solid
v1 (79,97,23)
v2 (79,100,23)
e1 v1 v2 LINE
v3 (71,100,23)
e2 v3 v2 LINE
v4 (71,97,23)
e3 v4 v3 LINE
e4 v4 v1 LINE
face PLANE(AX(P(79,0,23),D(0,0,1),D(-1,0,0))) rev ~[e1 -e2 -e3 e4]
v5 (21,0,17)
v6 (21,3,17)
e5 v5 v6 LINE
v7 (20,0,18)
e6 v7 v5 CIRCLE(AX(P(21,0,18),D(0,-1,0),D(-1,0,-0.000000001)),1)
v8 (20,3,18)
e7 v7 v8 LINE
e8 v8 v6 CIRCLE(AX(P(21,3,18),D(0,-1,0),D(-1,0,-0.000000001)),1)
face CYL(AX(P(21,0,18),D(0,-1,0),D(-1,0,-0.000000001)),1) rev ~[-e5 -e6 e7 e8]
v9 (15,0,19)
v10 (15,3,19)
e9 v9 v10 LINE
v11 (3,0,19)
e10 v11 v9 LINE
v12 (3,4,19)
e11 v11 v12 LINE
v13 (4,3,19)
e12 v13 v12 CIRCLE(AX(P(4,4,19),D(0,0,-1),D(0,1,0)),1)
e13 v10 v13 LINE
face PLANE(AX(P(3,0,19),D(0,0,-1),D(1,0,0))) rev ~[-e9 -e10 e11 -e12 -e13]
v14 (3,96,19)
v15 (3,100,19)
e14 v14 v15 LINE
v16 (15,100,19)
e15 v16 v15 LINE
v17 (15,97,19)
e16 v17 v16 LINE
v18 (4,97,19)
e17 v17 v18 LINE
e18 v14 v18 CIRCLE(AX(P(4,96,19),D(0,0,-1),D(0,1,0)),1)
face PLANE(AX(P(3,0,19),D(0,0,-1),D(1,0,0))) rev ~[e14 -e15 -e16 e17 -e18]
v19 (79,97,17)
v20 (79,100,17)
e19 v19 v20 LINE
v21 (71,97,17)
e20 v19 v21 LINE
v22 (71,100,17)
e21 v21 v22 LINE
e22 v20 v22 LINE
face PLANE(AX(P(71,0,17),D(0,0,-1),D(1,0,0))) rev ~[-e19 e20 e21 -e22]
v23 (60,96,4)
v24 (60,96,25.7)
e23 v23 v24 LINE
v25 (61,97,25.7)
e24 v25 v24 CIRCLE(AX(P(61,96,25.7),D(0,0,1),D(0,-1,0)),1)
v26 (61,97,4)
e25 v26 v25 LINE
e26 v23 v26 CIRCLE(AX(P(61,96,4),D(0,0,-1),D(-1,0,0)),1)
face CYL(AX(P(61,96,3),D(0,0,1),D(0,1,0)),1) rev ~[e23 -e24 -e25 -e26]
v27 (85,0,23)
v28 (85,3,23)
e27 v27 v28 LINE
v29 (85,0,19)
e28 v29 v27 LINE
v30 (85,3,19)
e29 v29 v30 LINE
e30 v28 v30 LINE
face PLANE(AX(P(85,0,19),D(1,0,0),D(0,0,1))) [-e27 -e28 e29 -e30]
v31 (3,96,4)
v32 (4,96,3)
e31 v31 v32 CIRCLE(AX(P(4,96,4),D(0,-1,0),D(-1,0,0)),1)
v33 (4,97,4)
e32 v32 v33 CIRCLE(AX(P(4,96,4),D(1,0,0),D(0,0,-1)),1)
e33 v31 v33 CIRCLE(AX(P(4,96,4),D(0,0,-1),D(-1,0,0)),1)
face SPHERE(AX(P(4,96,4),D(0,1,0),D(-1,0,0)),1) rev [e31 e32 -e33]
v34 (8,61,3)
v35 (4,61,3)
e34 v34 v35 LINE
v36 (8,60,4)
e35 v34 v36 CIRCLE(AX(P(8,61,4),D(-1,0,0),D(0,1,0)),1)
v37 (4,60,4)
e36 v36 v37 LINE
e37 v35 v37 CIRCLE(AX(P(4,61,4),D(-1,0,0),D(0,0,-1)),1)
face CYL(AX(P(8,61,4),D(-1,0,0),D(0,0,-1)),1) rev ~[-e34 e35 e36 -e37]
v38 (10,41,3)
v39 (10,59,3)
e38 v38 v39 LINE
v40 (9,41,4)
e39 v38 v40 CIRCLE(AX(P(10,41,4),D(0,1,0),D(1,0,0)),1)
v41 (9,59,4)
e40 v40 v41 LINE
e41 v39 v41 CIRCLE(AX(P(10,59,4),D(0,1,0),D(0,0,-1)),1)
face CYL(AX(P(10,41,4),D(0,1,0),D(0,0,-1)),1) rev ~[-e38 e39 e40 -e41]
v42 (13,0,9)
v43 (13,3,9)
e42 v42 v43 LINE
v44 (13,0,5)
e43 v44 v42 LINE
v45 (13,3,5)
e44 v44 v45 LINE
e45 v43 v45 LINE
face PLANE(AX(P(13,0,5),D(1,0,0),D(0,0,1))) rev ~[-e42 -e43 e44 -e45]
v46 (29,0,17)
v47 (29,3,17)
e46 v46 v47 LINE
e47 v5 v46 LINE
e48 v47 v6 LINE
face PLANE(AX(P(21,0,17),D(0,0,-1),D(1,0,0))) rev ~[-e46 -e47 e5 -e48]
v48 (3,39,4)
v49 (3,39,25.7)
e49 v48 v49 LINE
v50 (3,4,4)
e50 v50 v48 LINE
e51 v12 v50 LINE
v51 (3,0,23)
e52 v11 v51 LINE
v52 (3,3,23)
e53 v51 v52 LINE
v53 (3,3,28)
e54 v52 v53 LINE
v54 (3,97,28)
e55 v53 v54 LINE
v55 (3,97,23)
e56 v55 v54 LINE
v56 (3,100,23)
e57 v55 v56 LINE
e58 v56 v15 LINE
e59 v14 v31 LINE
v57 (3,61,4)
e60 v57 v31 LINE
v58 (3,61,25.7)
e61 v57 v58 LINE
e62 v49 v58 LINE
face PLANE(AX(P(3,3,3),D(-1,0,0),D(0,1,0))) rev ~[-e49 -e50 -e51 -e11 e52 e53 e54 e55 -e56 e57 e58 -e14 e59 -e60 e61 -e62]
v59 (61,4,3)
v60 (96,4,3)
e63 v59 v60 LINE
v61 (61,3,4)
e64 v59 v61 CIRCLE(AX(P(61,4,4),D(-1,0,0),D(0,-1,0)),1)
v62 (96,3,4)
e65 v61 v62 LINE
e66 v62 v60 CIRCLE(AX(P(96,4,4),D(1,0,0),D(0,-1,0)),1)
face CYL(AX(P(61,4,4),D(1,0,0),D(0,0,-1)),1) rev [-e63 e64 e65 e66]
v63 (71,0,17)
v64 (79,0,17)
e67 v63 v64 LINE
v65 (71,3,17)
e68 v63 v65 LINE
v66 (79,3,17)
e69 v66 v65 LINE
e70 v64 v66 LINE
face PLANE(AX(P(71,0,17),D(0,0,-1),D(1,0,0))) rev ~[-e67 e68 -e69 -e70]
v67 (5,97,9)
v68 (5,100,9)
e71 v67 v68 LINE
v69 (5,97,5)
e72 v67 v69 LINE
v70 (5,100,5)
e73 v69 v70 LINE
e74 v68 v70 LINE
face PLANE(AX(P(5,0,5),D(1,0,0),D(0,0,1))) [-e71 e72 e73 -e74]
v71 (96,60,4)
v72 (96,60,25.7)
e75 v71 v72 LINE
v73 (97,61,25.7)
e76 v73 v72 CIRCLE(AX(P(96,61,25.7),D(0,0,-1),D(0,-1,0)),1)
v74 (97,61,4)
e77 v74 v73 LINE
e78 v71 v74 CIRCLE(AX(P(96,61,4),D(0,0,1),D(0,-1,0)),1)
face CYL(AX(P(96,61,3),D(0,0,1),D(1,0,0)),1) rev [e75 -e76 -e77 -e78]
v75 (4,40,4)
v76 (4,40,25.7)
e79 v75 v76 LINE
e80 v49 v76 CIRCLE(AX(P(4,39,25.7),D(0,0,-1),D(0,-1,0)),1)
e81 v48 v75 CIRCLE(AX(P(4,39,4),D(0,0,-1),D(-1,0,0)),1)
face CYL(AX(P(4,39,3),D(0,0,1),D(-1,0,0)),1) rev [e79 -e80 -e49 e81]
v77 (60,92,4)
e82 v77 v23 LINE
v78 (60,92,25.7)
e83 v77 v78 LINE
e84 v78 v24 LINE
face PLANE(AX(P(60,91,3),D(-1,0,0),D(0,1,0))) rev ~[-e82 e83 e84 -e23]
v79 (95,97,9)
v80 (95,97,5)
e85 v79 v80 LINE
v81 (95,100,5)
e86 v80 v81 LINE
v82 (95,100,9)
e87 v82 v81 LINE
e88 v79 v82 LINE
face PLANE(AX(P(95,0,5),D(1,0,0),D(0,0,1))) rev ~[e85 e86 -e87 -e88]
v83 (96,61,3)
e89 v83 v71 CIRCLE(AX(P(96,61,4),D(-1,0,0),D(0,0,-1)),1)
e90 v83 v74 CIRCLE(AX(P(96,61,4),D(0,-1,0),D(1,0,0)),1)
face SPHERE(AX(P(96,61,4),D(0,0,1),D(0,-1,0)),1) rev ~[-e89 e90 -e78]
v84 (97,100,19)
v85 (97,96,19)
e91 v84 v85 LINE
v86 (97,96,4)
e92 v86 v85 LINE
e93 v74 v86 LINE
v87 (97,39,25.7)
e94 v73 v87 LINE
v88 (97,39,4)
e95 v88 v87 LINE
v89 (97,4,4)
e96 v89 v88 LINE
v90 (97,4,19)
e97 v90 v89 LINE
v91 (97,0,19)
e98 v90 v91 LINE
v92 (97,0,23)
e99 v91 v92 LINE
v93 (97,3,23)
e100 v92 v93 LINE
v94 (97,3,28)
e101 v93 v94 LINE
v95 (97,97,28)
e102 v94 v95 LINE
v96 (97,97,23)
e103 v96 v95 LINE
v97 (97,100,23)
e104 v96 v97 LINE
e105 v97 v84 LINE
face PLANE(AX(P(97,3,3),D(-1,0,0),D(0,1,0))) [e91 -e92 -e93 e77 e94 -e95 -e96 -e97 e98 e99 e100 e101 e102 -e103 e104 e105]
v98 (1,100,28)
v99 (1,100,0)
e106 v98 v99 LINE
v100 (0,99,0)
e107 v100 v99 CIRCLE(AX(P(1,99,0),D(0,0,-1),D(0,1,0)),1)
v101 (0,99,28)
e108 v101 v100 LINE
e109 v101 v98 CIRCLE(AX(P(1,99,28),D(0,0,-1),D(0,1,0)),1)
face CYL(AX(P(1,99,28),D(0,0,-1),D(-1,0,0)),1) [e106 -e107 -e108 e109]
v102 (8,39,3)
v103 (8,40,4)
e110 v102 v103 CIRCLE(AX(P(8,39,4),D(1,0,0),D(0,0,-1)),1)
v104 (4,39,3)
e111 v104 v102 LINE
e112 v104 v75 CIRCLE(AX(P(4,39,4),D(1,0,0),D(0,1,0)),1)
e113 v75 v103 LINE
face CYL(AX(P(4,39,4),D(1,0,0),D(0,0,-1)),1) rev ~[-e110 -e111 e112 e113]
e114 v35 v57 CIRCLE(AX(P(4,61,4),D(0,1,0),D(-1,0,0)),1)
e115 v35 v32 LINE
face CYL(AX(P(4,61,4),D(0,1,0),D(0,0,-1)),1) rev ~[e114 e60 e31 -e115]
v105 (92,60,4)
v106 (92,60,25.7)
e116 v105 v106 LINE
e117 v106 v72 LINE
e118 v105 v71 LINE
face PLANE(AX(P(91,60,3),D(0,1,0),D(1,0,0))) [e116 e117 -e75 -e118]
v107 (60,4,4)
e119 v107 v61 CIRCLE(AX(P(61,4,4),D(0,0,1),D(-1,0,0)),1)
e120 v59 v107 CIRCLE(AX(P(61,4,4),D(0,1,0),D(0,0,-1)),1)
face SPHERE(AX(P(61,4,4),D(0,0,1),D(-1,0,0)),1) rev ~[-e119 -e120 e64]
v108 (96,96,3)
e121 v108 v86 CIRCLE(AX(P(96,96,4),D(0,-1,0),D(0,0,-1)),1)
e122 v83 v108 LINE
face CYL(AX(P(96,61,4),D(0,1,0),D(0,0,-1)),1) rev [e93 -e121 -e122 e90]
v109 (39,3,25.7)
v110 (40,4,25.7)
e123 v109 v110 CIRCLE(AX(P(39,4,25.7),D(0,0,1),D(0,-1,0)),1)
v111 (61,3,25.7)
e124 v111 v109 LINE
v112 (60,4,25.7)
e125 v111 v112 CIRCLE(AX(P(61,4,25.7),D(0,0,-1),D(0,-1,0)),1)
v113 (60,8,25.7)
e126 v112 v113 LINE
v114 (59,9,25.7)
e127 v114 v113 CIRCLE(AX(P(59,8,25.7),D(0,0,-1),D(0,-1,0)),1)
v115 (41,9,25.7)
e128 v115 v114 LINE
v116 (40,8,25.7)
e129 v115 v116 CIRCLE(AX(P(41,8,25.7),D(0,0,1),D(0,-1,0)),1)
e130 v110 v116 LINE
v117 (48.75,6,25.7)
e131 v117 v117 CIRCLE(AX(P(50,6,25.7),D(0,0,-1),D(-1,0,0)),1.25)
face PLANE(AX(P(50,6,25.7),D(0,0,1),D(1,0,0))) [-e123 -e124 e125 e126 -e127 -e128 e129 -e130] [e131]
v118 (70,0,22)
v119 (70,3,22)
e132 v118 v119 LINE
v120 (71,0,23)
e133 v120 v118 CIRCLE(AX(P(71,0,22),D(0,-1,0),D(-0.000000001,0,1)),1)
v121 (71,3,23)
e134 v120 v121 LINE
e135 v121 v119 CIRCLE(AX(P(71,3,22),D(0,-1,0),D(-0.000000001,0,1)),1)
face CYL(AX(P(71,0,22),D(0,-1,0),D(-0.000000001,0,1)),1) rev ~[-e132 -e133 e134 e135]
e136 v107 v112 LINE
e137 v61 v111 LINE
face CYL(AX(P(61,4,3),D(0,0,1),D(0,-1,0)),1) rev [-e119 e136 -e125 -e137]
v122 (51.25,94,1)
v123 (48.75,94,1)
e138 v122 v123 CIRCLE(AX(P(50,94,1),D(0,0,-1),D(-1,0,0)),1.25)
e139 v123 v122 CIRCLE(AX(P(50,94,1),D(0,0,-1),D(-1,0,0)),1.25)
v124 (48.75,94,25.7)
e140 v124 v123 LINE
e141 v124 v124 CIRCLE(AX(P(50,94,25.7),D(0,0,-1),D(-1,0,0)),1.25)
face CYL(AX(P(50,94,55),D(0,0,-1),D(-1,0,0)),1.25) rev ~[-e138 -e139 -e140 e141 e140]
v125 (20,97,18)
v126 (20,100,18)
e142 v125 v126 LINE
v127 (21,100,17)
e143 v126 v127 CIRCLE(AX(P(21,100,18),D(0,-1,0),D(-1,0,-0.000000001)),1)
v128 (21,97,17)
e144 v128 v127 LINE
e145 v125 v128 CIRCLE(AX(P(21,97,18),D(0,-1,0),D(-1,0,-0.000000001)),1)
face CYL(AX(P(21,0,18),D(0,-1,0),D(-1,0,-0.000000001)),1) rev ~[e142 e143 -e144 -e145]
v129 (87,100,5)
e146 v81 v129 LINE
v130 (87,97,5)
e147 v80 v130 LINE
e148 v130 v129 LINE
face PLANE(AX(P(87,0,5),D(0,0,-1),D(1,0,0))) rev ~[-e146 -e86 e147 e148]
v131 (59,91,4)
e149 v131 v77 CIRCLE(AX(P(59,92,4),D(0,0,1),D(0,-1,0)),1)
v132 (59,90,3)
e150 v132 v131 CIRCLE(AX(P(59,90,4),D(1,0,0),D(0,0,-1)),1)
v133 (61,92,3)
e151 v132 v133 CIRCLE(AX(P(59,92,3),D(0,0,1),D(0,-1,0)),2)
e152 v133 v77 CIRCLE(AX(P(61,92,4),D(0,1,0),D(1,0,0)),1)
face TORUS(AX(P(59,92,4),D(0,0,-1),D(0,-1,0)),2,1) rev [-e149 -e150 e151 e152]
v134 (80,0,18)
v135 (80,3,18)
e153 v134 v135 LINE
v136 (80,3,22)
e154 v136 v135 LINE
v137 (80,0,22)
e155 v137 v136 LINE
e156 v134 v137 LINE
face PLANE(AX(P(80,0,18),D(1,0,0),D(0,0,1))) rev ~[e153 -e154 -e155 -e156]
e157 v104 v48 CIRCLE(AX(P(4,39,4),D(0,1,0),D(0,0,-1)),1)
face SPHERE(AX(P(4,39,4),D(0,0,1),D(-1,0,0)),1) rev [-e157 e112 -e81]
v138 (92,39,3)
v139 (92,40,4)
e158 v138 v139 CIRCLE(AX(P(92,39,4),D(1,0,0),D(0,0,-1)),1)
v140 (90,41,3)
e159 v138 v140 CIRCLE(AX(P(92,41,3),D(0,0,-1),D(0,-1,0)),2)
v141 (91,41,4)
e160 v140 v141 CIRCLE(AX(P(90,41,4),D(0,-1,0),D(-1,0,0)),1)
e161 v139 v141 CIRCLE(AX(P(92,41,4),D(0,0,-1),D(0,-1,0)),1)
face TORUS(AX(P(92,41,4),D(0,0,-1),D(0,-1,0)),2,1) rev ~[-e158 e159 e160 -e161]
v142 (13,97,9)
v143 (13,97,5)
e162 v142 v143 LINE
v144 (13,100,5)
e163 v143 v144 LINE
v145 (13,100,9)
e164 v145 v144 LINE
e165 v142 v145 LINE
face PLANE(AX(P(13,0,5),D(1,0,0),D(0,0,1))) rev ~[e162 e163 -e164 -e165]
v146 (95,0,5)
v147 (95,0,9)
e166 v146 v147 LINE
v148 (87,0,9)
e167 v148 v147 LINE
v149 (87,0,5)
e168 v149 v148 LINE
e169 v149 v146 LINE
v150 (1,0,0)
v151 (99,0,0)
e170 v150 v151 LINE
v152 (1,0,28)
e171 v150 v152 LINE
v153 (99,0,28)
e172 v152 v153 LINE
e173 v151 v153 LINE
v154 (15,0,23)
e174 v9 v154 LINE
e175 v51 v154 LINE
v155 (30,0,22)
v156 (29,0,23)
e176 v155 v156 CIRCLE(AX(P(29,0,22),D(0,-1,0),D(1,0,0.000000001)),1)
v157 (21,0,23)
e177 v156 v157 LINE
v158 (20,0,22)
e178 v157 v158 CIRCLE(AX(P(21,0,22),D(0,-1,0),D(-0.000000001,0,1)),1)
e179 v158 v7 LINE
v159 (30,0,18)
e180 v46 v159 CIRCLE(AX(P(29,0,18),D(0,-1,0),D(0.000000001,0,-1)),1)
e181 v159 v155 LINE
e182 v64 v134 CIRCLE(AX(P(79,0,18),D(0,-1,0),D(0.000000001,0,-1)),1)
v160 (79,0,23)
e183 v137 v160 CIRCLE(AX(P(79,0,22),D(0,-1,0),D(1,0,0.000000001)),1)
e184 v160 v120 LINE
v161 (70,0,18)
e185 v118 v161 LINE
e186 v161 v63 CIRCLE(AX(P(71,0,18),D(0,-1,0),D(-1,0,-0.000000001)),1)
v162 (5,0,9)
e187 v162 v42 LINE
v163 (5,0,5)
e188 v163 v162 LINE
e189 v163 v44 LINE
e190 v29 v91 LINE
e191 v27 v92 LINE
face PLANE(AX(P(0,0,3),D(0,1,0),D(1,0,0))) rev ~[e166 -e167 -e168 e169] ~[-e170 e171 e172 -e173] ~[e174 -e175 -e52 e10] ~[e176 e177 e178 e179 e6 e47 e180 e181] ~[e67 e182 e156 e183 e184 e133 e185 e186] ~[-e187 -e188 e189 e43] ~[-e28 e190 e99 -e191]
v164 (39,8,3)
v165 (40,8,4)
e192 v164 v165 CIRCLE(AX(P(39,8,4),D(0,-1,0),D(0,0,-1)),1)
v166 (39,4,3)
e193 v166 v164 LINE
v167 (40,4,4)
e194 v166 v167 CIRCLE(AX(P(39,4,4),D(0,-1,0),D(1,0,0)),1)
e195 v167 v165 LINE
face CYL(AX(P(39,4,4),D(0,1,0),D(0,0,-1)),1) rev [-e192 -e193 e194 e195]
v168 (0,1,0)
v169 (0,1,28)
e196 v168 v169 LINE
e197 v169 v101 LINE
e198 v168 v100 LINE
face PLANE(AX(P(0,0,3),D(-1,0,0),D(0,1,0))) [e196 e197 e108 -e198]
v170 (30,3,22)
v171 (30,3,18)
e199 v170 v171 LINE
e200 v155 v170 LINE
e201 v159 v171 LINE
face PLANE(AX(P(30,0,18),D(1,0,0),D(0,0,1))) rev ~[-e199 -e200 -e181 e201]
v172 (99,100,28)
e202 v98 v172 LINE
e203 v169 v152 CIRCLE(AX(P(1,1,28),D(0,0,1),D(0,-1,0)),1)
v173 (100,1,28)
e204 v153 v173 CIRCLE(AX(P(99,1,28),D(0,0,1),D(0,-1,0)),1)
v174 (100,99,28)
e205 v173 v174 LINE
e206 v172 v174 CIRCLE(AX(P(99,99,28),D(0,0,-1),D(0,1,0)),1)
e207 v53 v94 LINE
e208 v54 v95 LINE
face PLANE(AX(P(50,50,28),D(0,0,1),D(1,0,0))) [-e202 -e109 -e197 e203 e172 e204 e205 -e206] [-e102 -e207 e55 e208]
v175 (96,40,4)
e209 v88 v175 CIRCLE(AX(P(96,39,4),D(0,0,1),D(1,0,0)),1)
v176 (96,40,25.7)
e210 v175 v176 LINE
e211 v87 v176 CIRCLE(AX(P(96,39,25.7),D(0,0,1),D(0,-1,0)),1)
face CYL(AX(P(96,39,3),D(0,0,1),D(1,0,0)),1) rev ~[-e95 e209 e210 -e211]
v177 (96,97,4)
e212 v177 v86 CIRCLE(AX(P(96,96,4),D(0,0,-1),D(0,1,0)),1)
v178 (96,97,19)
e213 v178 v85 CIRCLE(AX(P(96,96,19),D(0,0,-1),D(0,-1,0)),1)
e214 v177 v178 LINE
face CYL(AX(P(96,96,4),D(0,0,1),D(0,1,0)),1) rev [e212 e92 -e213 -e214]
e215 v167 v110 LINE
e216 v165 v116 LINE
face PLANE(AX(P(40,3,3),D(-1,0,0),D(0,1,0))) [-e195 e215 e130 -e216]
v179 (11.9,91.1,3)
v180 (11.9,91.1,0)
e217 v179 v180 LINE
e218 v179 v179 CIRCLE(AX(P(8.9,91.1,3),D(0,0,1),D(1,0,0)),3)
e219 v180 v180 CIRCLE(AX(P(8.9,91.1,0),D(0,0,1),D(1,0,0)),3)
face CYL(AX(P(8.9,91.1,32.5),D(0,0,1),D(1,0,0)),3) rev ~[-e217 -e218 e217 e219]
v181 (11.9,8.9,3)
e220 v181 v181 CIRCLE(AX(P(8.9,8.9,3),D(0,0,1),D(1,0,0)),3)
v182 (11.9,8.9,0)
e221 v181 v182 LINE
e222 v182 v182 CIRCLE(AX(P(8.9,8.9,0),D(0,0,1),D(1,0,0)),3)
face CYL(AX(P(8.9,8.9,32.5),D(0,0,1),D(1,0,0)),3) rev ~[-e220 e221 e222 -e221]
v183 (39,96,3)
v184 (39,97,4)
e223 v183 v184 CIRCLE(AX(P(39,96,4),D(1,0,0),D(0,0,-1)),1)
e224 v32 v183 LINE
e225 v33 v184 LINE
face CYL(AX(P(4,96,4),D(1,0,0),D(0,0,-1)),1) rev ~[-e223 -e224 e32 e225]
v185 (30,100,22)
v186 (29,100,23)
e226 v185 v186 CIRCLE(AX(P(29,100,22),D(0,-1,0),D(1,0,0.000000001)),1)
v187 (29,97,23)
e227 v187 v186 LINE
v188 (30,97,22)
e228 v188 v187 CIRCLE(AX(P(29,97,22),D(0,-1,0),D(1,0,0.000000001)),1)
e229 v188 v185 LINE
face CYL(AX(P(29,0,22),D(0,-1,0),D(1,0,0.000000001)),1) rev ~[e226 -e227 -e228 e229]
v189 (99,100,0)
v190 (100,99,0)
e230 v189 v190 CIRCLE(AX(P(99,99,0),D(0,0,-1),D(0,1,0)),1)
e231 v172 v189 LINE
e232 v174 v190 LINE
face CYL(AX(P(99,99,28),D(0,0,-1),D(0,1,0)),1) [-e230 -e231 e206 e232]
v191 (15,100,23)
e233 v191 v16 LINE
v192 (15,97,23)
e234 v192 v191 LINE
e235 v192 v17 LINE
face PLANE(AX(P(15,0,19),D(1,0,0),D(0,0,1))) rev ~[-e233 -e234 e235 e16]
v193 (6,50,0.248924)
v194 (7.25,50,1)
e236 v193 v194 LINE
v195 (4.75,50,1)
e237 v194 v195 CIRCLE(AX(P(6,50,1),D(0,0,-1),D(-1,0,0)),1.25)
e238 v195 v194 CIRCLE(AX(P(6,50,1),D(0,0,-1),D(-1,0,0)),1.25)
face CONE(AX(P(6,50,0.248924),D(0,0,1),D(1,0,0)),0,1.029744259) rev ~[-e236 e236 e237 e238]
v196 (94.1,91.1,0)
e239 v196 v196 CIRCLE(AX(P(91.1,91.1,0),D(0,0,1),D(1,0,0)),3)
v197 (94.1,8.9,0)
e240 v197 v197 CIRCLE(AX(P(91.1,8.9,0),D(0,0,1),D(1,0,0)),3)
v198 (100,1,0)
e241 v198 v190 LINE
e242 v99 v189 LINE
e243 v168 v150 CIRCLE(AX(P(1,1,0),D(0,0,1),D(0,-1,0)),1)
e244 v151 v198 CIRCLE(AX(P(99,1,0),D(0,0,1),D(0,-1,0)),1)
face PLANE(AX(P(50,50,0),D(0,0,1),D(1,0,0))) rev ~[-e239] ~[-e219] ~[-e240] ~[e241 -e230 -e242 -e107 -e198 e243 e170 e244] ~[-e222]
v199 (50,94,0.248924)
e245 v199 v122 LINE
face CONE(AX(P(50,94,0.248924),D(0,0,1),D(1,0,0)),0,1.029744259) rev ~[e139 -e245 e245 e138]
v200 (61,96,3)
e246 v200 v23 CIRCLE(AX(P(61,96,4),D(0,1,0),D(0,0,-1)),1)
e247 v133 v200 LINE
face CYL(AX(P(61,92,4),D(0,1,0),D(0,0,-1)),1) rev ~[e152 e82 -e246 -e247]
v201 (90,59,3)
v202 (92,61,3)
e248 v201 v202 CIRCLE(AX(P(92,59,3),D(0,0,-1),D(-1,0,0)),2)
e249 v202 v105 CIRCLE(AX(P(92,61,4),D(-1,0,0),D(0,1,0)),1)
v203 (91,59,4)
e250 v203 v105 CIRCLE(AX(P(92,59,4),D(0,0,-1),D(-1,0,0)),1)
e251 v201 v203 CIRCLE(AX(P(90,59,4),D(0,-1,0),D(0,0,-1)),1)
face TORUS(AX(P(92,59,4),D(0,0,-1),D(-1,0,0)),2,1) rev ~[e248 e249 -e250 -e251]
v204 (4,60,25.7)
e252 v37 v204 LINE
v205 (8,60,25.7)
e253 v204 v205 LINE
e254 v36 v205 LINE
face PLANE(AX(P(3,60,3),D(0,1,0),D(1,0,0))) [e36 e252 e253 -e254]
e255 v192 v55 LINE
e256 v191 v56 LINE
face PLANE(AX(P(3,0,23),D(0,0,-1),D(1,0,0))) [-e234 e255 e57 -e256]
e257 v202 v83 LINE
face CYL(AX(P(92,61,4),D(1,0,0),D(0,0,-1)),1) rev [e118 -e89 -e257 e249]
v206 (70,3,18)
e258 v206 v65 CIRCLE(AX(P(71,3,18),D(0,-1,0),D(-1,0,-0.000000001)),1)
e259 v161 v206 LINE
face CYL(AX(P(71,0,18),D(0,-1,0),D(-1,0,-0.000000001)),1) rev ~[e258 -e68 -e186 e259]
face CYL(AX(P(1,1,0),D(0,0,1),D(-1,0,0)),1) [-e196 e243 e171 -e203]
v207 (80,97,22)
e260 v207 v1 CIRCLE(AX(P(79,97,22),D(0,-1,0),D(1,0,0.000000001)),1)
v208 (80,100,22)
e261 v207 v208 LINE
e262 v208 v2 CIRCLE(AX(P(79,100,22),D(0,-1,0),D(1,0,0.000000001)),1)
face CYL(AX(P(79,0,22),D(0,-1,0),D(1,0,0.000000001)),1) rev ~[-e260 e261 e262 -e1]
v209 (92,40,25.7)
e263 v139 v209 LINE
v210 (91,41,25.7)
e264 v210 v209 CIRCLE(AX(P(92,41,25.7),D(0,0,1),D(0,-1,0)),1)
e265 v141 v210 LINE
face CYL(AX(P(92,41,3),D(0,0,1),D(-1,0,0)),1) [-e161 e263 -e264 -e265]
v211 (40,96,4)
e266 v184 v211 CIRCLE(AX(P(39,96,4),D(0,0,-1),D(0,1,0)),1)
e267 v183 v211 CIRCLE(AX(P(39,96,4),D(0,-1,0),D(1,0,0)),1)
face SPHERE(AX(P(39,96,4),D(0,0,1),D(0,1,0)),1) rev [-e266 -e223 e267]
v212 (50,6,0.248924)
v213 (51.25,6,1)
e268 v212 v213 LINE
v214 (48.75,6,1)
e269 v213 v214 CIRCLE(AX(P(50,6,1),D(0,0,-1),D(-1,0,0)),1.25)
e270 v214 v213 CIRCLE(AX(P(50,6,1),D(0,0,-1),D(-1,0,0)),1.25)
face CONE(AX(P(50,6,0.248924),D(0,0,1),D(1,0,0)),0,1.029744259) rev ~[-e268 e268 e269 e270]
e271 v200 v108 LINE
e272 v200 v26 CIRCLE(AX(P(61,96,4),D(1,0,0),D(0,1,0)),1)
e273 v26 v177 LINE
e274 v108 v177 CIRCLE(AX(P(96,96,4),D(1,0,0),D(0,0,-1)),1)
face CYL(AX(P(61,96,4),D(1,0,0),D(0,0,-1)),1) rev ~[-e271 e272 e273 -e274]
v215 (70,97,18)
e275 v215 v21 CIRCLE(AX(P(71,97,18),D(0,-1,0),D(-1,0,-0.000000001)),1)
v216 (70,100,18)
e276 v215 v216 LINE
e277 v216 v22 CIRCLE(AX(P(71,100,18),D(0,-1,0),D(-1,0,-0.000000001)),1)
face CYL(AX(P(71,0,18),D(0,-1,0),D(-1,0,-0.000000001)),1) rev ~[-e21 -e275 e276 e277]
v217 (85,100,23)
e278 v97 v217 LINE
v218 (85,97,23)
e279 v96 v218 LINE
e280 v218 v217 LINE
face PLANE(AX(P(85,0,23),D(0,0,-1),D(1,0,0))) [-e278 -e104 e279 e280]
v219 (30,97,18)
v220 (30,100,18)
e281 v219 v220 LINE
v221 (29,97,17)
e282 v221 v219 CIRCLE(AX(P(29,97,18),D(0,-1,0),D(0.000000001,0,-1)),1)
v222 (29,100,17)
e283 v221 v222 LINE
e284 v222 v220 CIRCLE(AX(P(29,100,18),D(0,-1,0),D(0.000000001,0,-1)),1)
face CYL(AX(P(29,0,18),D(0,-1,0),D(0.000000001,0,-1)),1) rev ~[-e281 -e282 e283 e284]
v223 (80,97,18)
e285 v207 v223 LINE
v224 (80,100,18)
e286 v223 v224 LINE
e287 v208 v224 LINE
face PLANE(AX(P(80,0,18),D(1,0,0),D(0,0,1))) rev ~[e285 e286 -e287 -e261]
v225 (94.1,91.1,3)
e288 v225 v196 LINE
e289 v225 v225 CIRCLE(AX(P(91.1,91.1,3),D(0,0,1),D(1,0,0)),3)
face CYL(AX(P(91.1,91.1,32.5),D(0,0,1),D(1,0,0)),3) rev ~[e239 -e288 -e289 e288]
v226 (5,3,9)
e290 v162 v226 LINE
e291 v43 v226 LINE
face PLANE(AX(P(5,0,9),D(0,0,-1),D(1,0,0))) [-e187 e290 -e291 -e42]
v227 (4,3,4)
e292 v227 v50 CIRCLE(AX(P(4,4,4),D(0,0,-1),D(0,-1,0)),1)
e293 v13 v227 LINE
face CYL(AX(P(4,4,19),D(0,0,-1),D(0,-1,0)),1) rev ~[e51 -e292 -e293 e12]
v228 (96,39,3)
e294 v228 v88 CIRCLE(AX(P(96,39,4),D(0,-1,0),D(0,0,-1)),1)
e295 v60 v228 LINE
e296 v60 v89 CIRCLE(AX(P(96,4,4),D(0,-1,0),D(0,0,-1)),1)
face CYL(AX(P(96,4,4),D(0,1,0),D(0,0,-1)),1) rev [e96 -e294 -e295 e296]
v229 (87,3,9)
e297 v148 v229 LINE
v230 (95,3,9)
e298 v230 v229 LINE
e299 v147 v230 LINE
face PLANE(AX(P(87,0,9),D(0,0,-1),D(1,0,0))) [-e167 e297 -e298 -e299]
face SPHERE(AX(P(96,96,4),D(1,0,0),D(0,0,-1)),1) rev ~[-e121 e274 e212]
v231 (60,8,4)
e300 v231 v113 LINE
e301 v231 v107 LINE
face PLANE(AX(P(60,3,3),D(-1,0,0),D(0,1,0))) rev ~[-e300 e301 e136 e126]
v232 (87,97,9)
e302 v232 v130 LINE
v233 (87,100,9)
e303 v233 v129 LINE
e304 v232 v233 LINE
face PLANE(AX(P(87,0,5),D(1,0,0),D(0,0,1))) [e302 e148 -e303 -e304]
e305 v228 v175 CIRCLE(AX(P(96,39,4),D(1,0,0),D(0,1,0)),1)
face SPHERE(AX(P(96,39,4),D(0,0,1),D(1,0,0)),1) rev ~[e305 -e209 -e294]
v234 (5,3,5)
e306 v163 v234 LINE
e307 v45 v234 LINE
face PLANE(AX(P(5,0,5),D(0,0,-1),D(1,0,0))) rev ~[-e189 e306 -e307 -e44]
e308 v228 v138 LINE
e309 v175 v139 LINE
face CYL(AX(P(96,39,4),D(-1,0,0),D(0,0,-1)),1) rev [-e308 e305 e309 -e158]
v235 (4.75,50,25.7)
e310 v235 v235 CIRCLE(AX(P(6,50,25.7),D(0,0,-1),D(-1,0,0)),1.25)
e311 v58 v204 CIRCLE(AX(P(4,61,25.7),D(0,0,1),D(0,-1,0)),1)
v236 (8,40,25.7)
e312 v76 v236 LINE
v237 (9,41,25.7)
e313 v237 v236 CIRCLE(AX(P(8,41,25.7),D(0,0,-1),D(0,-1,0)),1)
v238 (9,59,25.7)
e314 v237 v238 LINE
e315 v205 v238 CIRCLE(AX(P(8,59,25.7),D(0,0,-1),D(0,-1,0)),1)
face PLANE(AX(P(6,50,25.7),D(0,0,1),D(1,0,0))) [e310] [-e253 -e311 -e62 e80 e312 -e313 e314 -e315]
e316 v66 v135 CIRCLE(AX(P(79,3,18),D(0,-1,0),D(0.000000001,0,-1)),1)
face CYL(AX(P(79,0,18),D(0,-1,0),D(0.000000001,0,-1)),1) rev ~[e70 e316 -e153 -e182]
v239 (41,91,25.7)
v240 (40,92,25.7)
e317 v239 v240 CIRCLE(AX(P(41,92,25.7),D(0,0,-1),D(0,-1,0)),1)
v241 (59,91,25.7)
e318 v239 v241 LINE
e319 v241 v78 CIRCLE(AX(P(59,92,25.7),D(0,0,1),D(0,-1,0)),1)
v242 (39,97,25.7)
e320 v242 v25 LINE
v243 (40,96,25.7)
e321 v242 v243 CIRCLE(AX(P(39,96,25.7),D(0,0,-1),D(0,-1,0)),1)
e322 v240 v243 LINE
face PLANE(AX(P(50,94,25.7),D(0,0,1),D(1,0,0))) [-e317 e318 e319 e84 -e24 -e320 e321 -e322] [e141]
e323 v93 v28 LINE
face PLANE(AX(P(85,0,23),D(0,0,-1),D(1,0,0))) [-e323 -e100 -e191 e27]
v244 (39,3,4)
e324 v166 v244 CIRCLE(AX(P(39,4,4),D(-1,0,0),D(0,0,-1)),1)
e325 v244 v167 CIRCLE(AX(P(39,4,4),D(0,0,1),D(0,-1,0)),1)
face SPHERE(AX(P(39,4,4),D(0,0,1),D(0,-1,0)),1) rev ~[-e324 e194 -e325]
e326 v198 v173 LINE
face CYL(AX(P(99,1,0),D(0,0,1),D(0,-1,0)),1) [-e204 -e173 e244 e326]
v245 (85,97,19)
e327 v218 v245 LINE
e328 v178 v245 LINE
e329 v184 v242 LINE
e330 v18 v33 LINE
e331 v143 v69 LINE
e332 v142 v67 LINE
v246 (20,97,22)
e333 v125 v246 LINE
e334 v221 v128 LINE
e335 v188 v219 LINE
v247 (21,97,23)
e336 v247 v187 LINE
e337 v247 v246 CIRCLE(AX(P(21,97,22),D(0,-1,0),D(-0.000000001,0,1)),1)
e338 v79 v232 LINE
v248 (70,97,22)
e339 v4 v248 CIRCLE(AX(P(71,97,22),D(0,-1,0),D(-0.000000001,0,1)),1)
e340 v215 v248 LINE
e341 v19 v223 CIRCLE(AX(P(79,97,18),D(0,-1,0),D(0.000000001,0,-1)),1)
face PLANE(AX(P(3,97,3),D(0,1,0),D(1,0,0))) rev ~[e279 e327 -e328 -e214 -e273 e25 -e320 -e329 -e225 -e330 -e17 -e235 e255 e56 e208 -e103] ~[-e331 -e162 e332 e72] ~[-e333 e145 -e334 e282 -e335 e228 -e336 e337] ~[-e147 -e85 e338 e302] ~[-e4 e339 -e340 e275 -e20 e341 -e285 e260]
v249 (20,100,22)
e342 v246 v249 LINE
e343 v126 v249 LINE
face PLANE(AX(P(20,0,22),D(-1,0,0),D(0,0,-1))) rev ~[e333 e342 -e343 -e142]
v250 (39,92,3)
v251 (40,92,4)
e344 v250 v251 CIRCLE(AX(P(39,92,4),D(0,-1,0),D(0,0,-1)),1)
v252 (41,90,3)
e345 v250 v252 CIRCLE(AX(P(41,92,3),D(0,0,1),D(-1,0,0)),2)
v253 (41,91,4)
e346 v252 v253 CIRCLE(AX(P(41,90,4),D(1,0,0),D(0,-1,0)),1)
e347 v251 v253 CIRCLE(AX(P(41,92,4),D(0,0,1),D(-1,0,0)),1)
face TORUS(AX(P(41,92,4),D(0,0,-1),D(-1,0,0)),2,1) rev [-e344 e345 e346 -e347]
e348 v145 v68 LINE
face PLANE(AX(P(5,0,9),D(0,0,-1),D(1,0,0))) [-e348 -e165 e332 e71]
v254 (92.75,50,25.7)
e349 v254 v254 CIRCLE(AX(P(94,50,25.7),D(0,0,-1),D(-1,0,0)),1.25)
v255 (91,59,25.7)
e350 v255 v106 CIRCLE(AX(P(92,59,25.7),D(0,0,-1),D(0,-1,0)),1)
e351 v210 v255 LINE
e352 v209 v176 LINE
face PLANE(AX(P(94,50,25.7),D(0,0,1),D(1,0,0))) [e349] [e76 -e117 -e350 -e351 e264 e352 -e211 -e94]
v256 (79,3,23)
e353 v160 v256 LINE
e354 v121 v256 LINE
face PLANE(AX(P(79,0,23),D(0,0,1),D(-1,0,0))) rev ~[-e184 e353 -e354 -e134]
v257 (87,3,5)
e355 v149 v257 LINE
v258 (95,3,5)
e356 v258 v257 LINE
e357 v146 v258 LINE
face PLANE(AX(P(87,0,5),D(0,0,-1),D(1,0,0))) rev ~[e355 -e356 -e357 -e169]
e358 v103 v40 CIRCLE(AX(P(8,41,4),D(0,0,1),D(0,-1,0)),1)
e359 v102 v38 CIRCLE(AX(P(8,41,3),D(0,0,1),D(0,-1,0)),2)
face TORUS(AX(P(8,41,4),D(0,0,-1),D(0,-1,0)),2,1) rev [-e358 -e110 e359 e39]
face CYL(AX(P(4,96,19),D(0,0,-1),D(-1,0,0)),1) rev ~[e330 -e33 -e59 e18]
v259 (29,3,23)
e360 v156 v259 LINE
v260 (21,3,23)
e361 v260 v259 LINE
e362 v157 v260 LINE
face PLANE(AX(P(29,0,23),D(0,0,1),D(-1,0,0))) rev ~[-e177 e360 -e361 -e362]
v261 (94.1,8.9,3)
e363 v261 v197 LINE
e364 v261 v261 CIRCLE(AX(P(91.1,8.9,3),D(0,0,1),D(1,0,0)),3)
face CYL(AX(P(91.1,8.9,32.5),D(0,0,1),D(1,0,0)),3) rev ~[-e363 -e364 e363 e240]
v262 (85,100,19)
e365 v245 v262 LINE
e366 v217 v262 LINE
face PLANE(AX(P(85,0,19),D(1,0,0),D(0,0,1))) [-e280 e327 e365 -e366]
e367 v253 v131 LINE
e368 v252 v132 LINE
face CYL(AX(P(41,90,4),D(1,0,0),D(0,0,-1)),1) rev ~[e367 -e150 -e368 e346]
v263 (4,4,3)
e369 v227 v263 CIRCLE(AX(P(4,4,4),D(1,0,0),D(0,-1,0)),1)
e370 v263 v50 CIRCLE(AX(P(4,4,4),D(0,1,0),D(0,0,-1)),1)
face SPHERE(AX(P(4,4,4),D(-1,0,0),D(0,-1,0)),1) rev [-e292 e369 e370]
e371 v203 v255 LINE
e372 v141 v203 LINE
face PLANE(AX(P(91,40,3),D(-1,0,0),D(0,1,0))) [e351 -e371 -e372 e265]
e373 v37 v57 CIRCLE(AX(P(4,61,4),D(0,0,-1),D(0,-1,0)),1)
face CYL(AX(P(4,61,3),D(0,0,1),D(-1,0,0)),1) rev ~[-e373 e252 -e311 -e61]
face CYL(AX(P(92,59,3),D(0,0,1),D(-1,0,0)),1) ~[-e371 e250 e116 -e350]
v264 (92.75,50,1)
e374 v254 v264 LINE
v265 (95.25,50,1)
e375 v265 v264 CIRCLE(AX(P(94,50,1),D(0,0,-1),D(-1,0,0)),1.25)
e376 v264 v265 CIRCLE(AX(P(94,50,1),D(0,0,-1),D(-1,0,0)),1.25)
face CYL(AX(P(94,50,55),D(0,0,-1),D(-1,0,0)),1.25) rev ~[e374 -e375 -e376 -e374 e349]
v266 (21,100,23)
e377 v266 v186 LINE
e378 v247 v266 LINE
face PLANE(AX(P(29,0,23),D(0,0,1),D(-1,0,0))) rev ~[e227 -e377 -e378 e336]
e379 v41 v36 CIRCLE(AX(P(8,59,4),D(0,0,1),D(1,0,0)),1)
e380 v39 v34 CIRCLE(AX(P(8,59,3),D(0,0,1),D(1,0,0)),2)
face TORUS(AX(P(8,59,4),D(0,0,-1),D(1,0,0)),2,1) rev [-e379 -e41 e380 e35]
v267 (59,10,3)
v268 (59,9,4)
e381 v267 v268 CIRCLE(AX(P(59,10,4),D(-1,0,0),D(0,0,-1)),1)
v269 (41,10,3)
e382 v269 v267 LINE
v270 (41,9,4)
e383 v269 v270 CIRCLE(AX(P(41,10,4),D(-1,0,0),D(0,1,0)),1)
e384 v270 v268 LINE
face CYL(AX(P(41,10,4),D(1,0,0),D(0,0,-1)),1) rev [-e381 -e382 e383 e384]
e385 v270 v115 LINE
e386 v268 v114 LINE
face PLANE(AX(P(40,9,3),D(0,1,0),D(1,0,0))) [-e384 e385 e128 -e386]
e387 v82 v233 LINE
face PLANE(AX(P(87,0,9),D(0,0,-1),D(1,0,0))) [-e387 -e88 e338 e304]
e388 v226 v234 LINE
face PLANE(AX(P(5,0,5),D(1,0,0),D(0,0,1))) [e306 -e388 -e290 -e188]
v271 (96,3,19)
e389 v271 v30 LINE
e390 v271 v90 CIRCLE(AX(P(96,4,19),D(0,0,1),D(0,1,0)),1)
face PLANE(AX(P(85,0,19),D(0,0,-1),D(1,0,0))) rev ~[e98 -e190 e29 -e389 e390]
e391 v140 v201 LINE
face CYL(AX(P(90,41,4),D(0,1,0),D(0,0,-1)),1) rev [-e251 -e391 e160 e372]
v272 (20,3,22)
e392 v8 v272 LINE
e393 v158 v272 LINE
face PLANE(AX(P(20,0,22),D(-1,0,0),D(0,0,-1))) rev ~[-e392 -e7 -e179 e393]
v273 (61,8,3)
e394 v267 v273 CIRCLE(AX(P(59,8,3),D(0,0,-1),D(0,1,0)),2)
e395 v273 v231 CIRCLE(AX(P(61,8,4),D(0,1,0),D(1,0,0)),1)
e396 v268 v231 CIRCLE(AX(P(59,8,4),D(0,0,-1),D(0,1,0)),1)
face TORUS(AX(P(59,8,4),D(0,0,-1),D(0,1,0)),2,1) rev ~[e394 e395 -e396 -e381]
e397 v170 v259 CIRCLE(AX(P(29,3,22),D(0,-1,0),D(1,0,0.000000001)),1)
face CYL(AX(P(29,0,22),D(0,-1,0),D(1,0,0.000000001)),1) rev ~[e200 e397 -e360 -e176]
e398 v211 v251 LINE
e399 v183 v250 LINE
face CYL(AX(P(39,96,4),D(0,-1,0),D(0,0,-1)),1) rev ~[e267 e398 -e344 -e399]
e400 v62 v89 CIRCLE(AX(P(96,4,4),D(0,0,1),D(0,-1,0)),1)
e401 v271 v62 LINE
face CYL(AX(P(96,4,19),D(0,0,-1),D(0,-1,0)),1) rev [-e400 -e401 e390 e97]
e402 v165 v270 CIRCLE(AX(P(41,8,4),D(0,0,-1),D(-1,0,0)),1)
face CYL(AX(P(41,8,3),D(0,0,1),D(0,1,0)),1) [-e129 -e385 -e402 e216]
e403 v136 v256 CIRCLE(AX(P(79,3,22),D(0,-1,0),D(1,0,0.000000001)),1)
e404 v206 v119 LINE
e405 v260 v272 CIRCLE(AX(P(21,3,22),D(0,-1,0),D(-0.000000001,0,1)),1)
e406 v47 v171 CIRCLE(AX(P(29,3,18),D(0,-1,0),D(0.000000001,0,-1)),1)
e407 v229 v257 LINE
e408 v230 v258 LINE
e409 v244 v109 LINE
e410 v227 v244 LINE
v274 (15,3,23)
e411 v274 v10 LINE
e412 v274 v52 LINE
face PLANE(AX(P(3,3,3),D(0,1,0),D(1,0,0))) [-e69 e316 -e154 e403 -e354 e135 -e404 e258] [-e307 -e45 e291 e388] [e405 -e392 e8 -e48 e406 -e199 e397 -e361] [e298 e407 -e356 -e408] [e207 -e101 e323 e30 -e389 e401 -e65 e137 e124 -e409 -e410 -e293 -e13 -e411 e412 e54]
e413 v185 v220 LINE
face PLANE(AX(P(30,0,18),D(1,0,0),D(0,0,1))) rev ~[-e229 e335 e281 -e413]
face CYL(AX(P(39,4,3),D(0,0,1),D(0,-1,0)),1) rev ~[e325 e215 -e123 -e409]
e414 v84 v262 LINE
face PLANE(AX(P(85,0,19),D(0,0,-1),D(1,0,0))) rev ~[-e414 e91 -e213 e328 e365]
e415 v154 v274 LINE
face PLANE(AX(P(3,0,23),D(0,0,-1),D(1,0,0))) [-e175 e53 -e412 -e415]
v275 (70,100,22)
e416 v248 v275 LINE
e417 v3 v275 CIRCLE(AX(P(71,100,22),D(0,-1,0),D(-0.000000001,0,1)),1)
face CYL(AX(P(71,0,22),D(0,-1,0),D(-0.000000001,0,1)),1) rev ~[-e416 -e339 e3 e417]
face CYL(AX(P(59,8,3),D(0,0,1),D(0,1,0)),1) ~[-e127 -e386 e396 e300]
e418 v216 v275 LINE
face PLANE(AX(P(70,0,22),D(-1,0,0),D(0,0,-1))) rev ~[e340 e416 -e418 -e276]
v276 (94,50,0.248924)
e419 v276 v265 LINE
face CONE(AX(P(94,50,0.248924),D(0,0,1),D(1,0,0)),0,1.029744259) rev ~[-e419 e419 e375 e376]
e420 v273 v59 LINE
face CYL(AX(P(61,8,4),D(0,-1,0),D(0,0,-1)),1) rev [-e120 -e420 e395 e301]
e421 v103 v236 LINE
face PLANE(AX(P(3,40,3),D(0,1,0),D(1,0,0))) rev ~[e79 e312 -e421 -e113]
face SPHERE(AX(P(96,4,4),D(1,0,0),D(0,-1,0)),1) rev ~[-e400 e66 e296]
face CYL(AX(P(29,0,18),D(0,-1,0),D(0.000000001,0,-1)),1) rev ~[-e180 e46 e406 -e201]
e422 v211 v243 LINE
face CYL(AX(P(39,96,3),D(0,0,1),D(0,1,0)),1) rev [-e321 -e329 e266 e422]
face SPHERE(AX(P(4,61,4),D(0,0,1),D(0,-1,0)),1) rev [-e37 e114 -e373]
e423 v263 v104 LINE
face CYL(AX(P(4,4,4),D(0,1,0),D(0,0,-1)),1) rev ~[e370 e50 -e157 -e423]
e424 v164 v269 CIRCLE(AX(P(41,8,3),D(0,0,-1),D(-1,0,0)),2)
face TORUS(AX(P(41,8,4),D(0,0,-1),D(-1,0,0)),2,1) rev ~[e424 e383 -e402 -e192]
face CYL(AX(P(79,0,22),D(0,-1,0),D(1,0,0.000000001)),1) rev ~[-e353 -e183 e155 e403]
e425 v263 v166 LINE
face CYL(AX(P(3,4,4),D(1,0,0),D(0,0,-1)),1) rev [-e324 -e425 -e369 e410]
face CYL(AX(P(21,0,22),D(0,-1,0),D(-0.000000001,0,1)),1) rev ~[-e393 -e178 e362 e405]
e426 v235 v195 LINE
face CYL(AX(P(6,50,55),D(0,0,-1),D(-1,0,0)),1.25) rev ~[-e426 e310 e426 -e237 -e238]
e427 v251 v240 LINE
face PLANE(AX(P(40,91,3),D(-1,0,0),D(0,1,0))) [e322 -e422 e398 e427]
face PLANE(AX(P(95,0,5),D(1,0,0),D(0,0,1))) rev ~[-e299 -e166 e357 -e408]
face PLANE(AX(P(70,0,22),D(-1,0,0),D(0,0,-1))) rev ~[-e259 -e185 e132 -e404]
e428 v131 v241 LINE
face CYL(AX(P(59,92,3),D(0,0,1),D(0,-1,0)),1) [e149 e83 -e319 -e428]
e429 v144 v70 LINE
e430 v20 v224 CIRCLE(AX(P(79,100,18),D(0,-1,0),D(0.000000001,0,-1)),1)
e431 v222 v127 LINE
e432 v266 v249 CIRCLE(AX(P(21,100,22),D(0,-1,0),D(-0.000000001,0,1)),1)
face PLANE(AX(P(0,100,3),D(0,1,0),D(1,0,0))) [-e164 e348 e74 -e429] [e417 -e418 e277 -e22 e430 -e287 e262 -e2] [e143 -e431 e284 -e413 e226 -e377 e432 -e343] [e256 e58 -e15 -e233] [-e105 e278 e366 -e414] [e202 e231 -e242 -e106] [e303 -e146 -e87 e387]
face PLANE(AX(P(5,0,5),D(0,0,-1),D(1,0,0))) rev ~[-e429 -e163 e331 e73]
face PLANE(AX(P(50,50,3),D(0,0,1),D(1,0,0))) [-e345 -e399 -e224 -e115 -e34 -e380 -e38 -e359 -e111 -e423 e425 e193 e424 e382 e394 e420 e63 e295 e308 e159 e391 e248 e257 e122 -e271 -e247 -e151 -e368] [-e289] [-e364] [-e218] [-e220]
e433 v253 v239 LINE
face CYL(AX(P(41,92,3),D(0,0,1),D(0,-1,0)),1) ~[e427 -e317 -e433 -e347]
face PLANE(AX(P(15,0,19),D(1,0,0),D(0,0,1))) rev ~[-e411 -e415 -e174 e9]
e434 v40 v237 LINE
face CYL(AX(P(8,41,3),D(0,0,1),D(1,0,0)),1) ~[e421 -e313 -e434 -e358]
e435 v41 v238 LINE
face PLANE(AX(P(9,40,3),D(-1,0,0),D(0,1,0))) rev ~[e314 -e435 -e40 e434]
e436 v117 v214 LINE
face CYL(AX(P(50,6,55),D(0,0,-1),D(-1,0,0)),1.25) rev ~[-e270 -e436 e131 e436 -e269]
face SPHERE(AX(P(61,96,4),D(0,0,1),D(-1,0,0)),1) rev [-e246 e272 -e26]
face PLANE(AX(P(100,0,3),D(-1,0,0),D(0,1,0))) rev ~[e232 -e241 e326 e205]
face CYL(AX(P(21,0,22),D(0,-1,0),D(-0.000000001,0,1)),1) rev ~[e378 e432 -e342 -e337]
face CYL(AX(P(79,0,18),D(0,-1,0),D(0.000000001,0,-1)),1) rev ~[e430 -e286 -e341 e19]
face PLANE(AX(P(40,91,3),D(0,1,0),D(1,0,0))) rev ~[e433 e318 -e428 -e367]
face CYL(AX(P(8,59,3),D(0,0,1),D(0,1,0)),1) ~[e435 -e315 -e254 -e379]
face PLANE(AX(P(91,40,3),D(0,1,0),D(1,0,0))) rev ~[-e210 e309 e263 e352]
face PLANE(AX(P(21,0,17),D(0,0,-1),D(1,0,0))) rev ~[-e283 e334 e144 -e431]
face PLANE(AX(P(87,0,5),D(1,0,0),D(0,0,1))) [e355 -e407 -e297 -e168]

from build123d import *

# Parameters (mm, degrees)
SKETCH1_W                 = 100
SKETCH1_H                 = 100
BOSS_EXTRUDE1_DEPTH       = 3
SKETCH2_W                 = 100
SKETCH2_H                 = 100
SKETCH2_W_2               = 94
SKETCH2_H_2               = 94
BOSS_EXTRUDE2_DEPTH       = 25
SKETCH5_R                 = 3
CUT_EXTRUDE1_DEPTH        = 146.107718609
SKETCH6_W                 = 12
SKETCH6_H                 = 4
SKETCH6_W_2               = 8
CUT_EXTRUDE3_DEPTH        = 145.166570328
SKETCH7_W                 = 6
SKETCH7_H                 = 20
SKETCH7_W_2               = 20
SKETCH7_H_2               = 6
BOSS_EXTRUDE4_DEPTH       = 22.7
M3X0_5_TAPPED_HOLE1_D     = 2.5
M3X0_5_TAPPED_HOLE1_DEPTH = 27
M3X0_5_TAPPED_HOLE1_TIP   = 0.751075774
FILLET1_R                 = 1
FILLET2_R                 = 1
FILLET3_R                 = 1
FILLET4_R                 = 1
FILLET5_R                 = 1
FILLET6_R                 = 1
FILLET7_R                 = 1
FILLET8_R                 = 1
FILLET9_R                 = 1
FILLET10_R                = 1
FILLET11_R                = 1
FILLET12_R                = 1
FILLET22_R                = 1
FILLET23_R                = 1
FILLET24_R                = 1
FILLET25_R                = 1
FILLET26_R                = 1
FILLET27_R                = 1
FILLET28_R                = 1
FILLET29_R                = 1
FILLET30_R                = 1
FILLET31_R                = 1
FILLET32_R                = 1
FILLET33_R                = 1
CUT_EXTRUDE5_DEPTH        = 145.166570328


with BuildPart() as part:
    # Sketch1 → Boss-Extrude1 (new body)
    with BuildSketch(Plane.XY):
        with Locations((50, 50)):
            Rectangle(SKETCH1_W, SKETCH1_H)
    extrude(amount=BOSS_EXTRUDE1_DEPTH)

    # Sketch2 → Boss-Extrude2 (add)
    with BuildSketch(Plane.XY.offset(3)):
        with Locations((50, 50)):
            Rectangle(SKETCH2_W, SKETCH2_H)
        with Locations((50, 50)):
            Rectangle(SKETCH2_W_2, SKETCH2_H_2, mode=Mode.SUBTRACT)
    extrude(amount=BOSS_EXTRUDE2_DEPTH)

    # Sketch5 → Cut-Extrude1 (cut, through all)
    with BuildSketch(Plane.XY.offset(32.5)):
        with Locations((8.9, 8.9)):
            Circle(SKETCH5_R)
        with Locations((8.9, 91.1)):
            Circle(SKETCH5_R)
        with Locations((91.1, 91.1)):
            Circle(SKETCH5_R)
        with Locations((91.1, 8.9)):
            Circle(SKETCH5_R)
    extrude(amount=-CUT_EXTRUDE1_DEPTH, mode=Mode.SUBTRACT)

    # Sketch6 → Cut-Extrude3 (cut, through all)
    with BuildSketch(Plane.XZ):
        with Locations((9, 21)):
            Rectangle(SKETCH6_W, SKETCH6_H)
        with Locations((91, 21)):
            Rectangle(SKETCH6_W, SKETCH6_H)
        with Locations((9, 7)):
            Rectangle(SKETCH6_W_2, SKETCH6_H)
        with Locations((91, 7)):
            Rectangle(SKETCH6_W_2, SKETCH6_H)
    extrude(amount=-CUT_EXTRUDE3_DEPTH, mode=Mode.SUBTRACT)

    # Sketch7 → Boss-Extrude4 (add)
    with BuildSketch(Plane.XY.offset(3)):
        with Locations((6, 50)):
            Rectangle(SKETCH7_W, SKETCH7_H)
        with Locations((50, 94)):
            Rectangle(SKETCH7_W_2, SKETCH7_H_2)
        with Locations((94, 50)):
            Rectangle(SKETCH7_W, SKETCH7_H)
        with Locations((50, 6)):
            Rectangle(SKETCH7_W_2, SKETCH7_H_2)
    extrude(amount=BOSS_EXTRUDE4_DEPTH)

    # M3x0.5 Tapped Hole1
    with Locations(Plane.XY.offset(28)):
        with Locations((6, 50), (50, 94), (94, 50), (50, 6)):
            Hole(M3X0_5_TAPPED_HOLE1_D / 2, depth=M3X0_5_TAPPED_HOLE1_DEPTH)
            with Locations((0, 0, -(M3X0_5_TAPPED_HOLE1_DEPTH + M3X0_5_TAPPED_HOLE1_TIP / 2))):  # 118° drill point
                Cone(0, M3X0_5_TAPPED_HOLE1_D / 2, M3X0_5_TAPPED_HOLE1_TIP, mode=Mode.SUBTRACT)

    # Fillet1
    fillet1_edges = [part.edges().sort_by_distance(p)[0] for p in [
        (0, 0, 14),
    ]]
    fillet(fillet1_edges, radius=FILLET1_R)

    # Fillet2
    fillet2_edges = [part.edges().sort_by_distance(p)[0] for p in [
        (100, 0, 14),
    ]]
    fillet(fillet2_edges, radius=FILLET2_R)

    # Fillet3
    fillet3_edges = [part.edges().sort_by_distance(p)[0] for p in [
        (0, 100, 14),
    ]]
    fillet(fillet3_edges, radius=FILLET3_R)

    # Fillet4
    fillet4_edges = [part.edges().sort_by_distance(p)[0] for p in [
        (100, 100, 14),
    ]]
    fillet(fillet4_edges, radius=FILLET4_R)

    # Fillet5
    fillet5_edges = [part.edges().sort_by_distance(p)[0] for p in [
        (40, 3, 14.35),
    ]]
    fillet(fillet5_edges, radius=FILLET5_R)

    # Fillet6
    fillet6_edges = [part.edges().sort_by_distance(p)[0] for p in [
        (60, 3, 14.35),
    ]]
    fillet(fillet6_edges, radius=FILLET6_R)

    # Fillet7
    fillet7_edges = [part.edges().sort_by_distance(p)[0] for p in [
        (97, 40, 14.35),
    ]]
    fillet(fillet7_edges, radius=FILLET7_R)

    # Fillet8
    fillet8_edges = [part.edges().sort_by_distance(p)[0] for p in [
        (97, 60, 14.35),
    ]]
    fillet(fillet8_edges, radius=FILLET8_R)

    # Fillet9
    fillet9_edges = [part.edges().sort_by_distance(p)[0] for p in [
        (3, 60, 14.35),
    ]]
    fillet(fillet9_edges, radius=FILLET9_R)

    # Fillet10
    fillet10_edges = [part.edges().sort_by_distance(p)[0] for p in [
        (3, 40, 14.35),
    ]]
    fillet(fillet10_edges, radius=FILLET10_R)

    # Fillet11
    fillet11_edges = [part.edges().sort_by_distance(p)[0] for p in [
        (40, 97, 14.35),
    ]]
    fillet(fillet11_edges, radius=FILLET11_R)

    # Fillet12
    fillet12_edges = [part.edges().sort_by_distance(p)[0] for p in [
        (60, 97, 14.35),
    ]]
    fillet(fillet12_edges, radius=FILLET12_R)

    # Fillet22
    fillet22_edges = [part.edges().sort_by_distance(p)[0] for p in [
        (60, 9, 14.35),
    ]]
    fillet(fillet22_edges, radius=FILLET22_R)

    # Fillet23
    fillet23_edges = [part.edges().sort_by_distance(p)[0] for p in [
        (40, 9, 14.35),
    ]]
    fillet(fillet23_edges, radius=FILLET23_R)

    # Fillet24
    fillet24_edges = [part.edges().sort_by_distance(p)[0] for p in [
        (91, 60, 14.35),
    ]]
    fillet(fillet24_edges, radius=FILLET24_R)

    # Fillet25
    fillet25_edges = [part.edges().sort_by_distance(p)[0] for p in [
        (91, 40, 14.35),
    ]]
    fillet(fillet25_edges, radius=FILLET25_R)

    # Fillet26
    fillet26_edges = [part.edges().sort_by_distance(p)[0] for p in [
        (9, 60, 14.35),
    ]]
    fillet(fillet26_edges, radius=FILLET26_R)

    # Fillet27
    fillet27_edges = [part.edges().sort_by_distance(p)[0] for p in [
        (9, 40, 14.35),
    ]]
    fillet(fillet27_edges, radius=FILLET27_R)

    # Fillet28
    fillet28_edges = [part.edges().sort_by_distance(p)[0] for p in [
        (60, 91, 14.35),
    ]]
    fillet(fillet28_edges, radius=FILLET28_R)

    # Fillet29
    fillet29_edges = [part.edges().sort_by_distance(p)[0] for p in [
        (40, 91, 14.35),
    ]]
    fillet(fillet29_edges, radius=FILLET29_R)

    # Fillet30
    fillet30_edges = [part.edges().sort_by_distance(p)[0] for p in [
        (21, 3, 3),
        (39.707106781, 3.292893219, 3),
        (60, 6, 3),
        (79, 3, 3),
        (60.292893219, 3.292893219, 3),
        (50, 9, 3),
        (59.707106781, 8.707106781, 3),
        (40, 6, 3),
        (40.292893219, 8.707106781, 3),
    ]]
    fillet(fillet30_edges, radius=FILLET30_R)

    # Fillet31
    fillet31_edges = [part.edges().sort_by_distance(p)[0] for p in [
        (3, 79, 3),
        (3.292893219, 60.292893219, 3),
        (3, 21.5, 3),
        (6, 40, 3),
        (3.292893219, 39.707106781, 3),
        (6, 60, 3),
        (8.707106781, 59.707106781, 3),
        (9, 50, 3),
        (8.707106781, 40.292893219, 3),
        (3, 3.292893219, 3.292893219),
        (3, 3, 11.5),
    ]]
    fillet(fillet31_edges, radius=FILLET31_R)

    # Fillet32
    fillet32_edges = [part.edges().sort_by_distance(p)[0] for p in [
        (79, 97, 3),
        (21.5, 97, 3),
        (40, 94, 3),
        (39.707106781, 96.707106781, 3),
        (60.292893219, 96.707106781, 3),
        (60, 94, 3),
        (59.707106781, 91.292893219, 3),
        (50, 91, 3),
        (40.292893219, 91.292893219, 3),
        (3.292893219, 97, 3.292893219),
        (3, 97, 11.5),
    ]]
    fillet(fillet32_edges, radius=FILLET32_R)

    # Fillet33
    fillet33_edges = [part.edges().sort_by_distance(p)[0] for p in [
        (96.707106781, 39.707106781, 3),
        (97, 78.5, 3),
        (94, 60, 3),
        (96.707106781, 60.292893219, 3),
        (91, 50, 3),
        (91.292893219, 59.707106781, 3),
        (94, 40, 3),
        (91.292893219, 40.292893219, 3),
        (97, 21.5, 3),
        (97, 3.292893219, 3.292893219),
        (97, 96.707106781, 3.292893219),
        (97, 97, 11.5),
        (97, 3, 11.5),
    ]]
    fillet(fillet33_edges, radius=FILLET33_R)

    # Sketch12 → Cut-Extrude5 (cut, through all)
    with BuildSketch(Plane.XZ):
        with BuildLine():
            Line((21, 17), (29, 17))
            ThreePointArc((29, 17), (29.707106781, 17.292893219), (30, 18))
            Line((30, 18), (30, 22))
            ThreePointArc((30, 22), (29.707106781, 22.707106781), (29, 23))
            Line((29, 23), (21, 23))
            ThreePointArc((21, 23), (20.292893219, 22.707106781), (20, 22))
            Line((20, 22), (20, 18))
            ThreePointArc((20, 18), (20.292893219, 17.292893219), (21, 17))
        make_face()
        with BuildLine():
            Line((71, 17), (79, 17))
            ThreePointArc((79, 17), (79.707106781, 17.292893219), (80, 18))
            Line((80, 18), (80, 22))
            ThreePointArc((80, 22), (79.707106781, 22.707106781), (79, 23))
            Line((79, 23), (71, 23))
            ThreePointArc((71, 23), (70.292893219, 22.707106781), (70, 22))
            Line((70, 22), (70, 18))
            ThreePointArc((70, 18), (70.292893219, 17.292893219), (71, 17))
        make_face()
    extrude(amount=-CUT_EXTRUDE5_DEPTH, mode=Mode.SUBTRACT)


solid = part.part
